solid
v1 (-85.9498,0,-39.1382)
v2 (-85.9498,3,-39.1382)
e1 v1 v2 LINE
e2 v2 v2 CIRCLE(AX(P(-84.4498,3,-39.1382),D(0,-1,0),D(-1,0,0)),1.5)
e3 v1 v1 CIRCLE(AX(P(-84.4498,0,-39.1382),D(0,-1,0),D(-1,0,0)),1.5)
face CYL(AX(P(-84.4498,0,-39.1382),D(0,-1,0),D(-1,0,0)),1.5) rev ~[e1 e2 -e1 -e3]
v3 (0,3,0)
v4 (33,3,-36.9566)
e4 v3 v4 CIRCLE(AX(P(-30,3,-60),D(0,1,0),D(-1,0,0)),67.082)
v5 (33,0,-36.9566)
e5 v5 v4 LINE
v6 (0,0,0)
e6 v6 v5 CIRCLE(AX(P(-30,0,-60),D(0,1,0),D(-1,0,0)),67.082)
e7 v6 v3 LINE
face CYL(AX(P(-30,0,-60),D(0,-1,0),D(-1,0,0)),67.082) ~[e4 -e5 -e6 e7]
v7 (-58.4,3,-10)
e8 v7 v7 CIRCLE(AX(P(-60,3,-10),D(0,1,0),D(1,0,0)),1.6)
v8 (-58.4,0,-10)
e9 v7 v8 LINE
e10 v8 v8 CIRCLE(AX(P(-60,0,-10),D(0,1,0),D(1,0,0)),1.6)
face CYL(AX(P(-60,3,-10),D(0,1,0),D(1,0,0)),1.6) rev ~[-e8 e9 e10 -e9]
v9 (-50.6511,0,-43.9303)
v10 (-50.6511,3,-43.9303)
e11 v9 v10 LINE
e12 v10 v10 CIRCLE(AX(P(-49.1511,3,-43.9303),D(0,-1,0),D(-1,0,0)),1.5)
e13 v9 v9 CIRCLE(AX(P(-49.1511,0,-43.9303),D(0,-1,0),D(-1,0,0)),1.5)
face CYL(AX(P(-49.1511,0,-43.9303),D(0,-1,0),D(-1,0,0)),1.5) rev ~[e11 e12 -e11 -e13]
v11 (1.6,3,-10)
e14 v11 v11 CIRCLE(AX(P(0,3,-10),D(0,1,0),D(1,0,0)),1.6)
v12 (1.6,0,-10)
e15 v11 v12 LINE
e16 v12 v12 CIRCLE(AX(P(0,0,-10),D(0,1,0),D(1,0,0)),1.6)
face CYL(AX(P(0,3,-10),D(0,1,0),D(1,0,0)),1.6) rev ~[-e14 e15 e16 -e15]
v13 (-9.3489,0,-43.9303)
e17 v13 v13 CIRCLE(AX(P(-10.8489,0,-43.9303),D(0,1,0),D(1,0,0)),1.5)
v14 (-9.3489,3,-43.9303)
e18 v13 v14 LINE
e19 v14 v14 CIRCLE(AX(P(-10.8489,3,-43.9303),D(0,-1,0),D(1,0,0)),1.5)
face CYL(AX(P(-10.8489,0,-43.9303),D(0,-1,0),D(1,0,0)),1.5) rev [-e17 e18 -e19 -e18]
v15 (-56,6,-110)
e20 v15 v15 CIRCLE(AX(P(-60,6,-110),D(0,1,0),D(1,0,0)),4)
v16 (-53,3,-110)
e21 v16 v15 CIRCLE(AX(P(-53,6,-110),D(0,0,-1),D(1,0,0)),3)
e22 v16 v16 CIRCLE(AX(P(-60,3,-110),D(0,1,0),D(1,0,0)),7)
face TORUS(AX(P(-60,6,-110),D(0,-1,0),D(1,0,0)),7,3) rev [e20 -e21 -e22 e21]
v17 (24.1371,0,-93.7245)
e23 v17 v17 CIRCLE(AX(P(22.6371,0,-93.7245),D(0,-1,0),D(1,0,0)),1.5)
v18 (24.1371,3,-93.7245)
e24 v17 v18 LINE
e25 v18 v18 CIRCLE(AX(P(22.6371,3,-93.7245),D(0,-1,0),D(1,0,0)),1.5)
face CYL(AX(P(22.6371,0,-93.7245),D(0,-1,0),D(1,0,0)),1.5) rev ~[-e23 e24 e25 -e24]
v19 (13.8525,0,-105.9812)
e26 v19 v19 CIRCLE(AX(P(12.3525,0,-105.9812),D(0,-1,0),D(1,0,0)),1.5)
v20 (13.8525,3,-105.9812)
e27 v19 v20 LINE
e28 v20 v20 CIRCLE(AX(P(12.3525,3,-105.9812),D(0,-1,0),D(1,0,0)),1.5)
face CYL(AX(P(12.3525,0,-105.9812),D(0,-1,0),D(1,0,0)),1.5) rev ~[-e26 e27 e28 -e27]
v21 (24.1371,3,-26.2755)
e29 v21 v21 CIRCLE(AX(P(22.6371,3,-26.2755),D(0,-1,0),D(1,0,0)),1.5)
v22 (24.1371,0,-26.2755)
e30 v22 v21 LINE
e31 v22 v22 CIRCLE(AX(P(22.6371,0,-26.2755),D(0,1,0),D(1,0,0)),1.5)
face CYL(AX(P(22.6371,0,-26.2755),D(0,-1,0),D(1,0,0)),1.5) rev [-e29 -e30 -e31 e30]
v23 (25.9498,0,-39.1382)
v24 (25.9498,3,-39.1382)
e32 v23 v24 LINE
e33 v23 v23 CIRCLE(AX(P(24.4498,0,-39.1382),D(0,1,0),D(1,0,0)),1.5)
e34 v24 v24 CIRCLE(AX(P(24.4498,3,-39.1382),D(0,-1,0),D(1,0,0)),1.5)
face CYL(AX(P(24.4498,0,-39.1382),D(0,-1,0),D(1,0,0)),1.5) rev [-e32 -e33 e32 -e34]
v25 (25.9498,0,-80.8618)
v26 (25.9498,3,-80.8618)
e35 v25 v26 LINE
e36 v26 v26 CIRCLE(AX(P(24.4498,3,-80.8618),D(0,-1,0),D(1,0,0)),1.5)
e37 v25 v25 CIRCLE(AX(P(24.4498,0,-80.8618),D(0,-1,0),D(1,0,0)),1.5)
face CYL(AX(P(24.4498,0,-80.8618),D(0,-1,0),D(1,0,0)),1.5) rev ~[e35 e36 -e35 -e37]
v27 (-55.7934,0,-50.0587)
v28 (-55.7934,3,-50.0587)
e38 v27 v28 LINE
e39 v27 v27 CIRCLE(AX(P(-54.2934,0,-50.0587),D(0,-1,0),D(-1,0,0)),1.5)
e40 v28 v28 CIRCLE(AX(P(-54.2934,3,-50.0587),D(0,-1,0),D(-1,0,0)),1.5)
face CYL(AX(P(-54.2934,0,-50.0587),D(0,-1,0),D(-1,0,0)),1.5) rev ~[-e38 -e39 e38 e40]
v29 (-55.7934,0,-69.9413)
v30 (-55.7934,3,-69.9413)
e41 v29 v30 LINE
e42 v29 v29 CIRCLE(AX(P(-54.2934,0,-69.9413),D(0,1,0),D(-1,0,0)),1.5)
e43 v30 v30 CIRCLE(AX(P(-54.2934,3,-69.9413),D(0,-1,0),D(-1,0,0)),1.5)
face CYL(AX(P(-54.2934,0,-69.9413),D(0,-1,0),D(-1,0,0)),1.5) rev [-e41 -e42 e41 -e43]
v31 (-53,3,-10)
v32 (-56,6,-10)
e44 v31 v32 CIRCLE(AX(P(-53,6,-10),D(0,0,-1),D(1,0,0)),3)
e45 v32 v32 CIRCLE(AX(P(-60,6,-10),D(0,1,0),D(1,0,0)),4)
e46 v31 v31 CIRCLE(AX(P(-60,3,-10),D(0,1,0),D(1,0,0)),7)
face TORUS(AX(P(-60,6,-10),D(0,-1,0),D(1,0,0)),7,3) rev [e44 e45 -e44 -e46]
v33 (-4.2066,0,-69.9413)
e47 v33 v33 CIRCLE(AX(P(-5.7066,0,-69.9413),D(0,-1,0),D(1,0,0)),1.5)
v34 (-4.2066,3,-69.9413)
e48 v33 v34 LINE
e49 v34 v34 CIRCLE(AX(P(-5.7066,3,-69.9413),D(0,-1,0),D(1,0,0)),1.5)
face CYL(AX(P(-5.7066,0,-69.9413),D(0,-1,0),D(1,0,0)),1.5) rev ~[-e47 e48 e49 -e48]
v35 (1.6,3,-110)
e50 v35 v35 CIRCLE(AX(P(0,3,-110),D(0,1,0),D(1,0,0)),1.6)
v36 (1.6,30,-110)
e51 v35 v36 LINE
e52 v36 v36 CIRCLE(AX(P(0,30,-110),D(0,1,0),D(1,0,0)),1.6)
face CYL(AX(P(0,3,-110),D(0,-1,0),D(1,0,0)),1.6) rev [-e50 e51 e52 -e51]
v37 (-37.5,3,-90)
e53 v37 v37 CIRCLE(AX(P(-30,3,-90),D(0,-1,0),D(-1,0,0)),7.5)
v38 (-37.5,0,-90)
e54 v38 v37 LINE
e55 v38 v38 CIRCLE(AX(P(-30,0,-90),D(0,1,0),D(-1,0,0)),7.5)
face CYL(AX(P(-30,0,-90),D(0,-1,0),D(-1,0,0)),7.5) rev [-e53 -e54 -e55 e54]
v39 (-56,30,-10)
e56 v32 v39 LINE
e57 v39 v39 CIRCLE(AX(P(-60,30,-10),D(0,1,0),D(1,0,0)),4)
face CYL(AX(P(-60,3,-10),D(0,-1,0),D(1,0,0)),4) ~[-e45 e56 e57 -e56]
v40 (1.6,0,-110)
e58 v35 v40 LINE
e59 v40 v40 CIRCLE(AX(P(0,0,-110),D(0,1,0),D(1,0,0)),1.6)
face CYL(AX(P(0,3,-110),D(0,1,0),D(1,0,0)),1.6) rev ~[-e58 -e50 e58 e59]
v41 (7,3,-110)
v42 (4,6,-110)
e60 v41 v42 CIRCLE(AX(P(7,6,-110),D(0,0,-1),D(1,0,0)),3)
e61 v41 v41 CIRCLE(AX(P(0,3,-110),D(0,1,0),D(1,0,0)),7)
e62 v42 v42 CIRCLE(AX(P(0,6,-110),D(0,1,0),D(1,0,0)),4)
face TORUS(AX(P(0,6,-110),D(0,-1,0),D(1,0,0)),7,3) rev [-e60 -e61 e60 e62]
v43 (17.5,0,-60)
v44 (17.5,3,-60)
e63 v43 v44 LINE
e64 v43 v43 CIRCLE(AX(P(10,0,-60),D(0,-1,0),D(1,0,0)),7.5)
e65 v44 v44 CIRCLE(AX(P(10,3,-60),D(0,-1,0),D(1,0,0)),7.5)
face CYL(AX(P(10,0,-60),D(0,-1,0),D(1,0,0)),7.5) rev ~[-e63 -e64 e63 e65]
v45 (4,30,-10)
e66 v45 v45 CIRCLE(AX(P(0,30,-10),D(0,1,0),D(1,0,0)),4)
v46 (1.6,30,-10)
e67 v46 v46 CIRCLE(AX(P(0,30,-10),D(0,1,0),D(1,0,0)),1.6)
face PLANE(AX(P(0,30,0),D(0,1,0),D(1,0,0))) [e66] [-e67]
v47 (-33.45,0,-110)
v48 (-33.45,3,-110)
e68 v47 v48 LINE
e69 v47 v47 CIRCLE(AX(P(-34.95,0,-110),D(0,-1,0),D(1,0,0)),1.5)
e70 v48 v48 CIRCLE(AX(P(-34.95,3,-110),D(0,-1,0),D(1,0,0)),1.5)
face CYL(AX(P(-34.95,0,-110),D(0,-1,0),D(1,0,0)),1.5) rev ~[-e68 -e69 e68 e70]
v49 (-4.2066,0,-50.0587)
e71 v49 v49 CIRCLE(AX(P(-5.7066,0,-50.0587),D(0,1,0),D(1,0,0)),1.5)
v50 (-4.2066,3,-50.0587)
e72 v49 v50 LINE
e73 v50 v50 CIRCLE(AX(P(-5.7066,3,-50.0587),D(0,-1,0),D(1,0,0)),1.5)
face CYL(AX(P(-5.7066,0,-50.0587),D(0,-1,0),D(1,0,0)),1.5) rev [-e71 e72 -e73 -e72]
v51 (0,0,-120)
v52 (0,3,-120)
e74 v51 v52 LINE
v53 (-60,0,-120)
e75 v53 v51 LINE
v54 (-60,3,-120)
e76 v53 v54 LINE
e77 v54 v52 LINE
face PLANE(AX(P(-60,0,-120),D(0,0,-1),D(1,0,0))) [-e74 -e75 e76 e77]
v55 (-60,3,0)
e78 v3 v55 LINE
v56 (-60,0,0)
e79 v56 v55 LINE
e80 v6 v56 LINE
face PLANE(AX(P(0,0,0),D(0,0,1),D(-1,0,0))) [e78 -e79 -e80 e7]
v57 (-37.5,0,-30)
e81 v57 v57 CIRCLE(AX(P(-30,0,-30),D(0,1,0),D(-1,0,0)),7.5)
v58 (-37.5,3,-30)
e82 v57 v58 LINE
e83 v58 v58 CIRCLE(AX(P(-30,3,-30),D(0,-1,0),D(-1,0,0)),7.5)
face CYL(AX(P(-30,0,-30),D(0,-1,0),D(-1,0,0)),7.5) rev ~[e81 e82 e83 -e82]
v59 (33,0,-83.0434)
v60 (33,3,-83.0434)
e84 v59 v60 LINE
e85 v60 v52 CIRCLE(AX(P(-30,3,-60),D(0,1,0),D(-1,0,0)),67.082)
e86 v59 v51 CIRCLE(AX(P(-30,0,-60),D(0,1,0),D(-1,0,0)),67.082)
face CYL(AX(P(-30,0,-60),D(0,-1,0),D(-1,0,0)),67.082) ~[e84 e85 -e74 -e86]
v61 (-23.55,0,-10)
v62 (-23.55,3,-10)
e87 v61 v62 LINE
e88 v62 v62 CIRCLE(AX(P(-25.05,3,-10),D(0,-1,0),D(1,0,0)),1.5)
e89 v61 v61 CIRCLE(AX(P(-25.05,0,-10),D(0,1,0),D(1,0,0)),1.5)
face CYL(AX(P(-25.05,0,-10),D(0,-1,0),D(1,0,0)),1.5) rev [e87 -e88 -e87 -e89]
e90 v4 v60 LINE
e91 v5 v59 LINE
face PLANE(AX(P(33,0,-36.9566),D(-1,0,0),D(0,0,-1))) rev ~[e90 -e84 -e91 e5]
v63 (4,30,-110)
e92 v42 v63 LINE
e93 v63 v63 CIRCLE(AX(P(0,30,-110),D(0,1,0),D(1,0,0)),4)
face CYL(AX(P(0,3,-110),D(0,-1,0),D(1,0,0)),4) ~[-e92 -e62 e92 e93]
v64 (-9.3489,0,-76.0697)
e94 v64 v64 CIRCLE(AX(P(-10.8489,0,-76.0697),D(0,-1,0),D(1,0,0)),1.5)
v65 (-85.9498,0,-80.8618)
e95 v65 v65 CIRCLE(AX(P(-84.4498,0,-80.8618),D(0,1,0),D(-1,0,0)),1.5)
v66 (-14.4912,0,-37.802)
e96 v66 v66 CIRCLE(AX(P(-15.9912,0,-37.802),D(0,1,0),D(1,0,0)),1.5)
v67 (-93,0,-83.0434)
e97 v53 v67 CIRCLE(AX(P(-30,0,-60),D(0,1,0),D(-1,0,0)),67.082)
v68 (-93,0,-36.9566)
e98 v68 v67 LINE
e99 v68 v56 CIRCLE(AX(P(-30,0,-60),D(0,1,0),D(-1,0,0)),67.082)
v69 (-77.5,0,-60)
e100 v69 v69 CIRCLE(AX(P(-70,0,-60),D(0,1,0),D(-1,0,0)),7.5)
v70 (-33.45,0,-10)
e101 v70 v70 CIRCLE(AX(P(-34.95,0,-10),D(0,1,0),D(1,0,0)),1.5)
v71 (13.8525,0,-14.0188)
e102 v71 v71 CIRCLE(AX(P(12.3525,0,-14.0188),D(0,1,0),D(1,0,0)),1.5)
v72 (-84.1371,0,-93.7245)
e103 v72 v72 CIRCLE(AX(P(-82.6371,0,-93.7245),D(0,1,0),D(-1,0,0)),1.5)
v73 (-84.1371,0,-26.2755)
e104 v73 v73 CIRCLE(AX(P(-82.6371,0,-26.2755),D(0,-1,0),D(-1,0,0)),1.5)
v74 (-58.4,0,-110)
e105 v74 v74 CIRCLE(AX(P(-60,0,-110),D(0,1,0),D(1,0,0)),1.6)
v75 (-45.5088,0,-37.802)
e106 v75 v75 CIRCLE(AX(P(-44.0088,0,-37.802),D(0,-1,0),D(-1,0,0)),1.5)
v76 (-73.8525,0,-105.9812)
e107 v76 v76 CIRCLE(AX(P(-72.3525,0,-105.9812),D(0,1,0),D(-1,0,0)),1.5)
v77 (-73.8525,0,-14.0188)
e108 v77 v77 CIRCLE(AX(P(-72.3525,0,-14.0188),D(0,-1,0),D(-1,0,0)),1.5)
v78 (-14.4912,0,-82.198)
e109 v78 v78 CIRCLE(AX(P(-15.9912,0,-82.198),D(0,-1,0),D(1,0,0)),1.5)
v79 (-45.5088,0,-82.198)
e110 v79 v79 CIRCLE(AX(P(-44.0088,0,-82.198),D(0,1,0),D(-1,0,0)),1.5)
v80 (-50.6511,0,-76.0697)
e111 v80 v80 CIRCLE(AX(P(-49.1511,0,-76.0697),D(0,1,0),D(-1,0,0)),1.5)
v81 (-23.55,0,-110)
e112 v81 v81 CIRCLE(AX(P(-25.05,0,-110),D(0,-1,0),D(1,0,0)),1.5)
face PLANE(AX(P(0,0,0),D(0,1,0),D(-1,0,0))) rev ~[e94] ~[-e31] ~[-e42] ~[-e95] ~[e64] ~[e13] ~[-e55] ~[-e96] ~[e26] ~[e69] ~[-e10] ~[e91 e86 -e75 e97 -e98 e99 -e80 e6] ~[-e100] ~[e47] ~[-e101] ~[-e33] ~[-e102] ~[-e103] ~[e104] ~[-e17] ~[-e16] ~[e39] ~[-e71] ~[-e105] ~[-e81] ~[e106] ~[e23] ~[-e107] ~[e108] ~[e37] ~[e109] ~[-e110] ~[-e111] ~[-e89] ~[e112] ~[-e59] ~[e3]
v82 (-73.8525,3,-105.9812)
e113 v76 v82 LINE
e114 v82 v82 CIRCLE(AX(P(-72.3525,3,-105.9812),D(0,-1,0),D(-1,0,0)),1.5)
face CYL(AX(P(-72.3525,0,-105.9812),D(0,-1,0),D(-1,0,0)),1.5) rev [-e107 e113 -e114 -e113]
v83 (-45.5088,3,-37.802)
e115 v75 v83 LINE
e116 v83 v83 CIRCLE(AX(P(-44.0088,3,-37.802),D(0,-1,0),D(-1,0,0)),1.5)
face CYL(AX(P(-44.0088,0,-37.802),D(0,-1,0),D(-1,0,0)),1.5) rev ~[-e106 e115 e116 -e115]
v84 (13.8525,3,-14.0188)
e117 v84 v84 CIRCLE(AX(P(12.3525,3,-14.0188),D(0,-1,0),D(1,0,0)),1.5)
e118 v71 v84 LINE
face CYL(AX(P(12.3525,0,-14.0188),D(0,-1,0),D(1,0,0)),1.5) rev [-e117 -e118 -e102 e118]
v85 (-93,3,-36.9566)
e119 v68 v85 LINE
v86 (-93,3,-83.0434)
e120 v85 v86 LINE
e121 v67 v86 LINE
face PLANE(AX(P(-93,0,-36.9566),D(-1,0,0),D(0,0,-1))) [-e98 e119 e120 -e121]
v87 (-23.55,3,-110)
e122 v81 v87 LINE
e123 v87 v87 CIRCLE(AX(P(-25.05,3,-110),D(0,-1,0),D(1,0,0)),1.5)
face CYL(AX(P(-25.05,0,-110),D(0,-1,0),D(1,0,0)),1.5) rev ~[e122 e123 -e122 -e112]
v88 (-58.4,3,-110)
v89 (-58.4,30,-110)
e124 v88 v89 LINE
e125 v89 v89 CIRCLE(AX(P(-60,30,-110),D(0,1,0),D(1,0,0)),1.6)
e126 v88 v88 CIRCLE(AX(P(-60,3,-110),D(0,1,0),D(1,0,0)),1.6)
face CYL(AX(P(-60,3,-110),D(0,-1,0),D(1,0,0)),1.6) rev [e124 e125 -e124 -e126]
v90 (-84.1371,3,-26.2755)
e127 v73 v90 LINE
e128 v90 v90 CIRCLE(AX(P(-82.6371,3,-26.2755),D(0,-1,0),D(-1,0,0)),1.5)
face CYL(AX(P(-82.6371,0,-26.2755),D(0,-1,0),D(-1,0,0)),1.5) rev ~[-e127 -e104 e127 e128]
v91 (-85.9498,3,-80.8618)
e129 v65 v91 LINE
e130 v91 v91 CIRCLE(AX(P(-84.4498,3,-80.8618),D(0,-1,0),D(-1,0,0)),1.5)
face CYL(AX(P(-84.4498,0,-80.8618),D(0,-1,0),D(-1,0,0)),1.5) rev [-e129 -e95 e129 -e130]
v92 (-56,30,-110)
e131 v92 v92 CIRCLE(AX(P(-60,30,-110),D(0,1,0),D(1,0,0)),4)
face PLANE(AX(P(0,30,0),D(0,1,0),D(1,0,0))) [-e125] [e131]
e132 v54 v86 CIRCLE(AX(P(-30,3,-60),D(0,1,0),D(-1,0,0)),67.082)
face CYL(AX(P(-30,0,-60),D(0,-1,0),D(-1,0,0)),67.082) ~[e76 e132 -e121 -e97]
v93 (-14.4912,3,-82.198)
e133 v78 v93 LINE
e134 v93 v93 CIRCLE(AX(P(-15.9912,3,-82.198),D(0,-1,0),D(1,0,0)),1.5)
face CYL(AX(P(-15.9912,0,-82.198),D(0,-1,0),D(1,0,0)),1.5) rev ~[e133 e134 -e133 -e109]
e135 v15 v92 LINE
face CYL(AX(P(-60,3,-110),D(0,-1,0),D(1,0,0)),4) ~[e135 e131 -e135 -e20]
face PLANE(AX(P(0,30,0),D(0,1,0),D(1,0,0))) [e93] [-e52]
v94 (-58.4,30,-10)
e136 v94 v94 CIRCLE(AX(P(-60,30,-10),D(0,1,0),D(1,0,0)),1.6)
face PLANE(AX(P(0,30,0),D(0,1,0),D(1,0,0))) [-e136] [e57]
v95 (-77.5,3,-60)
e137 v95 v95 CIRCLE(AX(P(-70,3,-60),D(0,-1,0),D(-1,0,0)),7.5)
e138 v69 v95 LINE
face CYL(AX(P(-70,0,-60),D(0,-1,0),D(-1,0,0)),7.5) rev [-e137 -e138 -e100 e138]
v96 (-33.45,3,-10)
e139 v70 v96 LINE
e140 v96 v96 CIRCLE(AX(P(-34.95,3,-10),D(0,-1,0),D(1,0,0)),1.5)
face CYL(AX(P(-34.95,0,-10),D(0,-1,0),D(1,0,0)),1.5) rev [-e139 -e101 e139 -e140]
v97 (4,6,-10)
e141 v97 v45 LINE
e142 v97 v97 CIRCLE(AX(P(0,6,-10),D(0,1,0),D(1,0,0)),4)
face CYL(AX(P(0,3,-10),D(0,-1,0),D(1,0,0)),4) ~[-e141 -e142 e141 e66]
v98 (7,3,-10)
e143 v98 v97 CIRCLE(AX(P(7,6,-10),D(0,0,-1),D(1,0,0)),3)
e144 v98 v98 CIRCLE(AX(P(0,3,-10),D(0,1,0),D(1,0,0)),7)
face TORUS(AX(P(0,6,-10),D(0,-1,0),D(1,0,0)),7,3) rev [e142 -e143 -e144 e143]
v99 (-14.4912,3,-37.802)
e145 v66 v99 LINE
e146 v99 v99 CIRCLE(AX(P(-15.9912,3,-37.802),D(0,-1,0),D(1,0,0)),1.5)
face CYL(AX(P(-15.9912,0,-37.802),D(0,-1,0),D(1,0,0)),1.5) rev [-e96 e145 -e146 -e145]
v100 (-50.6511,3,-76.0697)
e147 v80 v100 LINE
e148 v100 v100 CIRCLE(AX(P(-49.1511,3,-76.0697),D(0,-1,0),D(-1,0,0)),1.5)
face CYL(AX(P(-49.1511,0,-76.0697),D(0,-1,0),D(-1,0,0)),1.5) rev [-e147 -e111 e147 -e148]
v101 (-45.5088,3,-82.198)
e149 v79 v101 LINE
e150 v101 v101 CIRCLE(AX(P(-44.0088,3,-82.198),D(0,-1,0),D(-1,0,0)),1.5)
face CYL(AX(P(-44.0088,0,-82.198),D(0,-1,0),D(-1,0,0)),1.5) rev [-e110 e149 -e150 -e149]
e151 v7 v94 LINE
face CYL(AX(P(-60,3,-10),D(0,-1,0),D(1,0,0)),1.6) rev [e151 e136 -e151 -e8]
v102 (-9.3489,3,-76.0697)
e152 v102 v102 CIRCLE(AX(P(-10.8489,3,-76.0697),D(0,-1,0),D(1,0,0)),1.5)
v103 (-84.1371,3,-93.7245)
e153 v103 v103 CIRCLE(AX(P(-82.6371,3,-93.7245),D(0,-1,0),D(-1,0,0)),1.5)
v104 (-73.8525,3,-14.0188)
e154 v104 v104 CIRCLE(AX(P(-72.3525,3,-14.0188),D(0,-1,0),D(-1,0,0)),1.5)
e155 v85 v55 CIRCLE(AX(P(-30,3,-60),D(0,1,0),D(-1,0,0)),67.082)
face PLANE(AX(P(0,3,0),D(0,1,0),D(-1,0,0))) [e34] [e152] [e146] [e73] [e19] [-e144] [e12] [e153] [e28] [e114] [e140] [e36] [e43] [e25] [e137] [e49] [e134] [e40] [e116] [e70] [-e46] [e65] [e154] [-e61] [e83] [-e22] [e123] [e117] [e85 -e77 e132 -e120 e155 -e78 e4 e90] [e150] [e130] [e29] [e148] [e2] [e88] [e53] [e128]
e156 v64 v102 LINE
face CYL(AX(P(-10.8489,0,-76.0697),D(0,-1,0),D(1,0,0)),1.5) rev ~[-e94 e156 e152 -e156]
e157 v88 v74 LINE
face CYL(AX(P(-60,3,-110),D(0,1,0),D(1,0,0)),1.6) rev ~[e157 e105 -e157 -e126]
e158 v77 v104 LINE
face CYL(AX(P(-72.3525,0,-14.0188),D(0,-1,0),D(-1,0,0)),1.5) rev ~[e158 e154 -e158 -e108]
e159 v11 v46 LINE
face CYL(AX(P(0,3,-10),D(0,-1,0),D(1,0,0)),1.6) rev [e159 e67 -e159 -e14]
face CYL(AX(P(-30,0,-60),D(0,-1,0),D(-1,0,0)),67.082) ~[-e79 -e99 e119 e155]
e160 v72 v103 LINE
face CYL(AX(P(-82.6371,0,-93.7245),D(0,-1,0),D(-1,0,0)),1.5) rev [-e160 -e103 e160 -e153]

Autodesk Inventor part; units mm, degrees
ref_plane "XZ Plane" through (0, 0, 0) normal (0, 1, 0) x (-1, 0, 0)
ref_plane "XY Plane" through (0, 0, 0) normal (0, 0, 1) x (1, 0, 0)
sketch "Sketch1" plane through (0, 0, 0) normal (0, 1, 0) x (-1, 0, 0)
  line L0 (0, 0) -> (60, 0)
  line L1 (60, 0) -> (60, -120)
  line L2 (60, -120) -> (0, -120)
  line L3 (0, -120) -> (0, 0)
  line L4 (60, 0) -> (0, -120) construction
  line L5 (60, -120) -> (0, 0) construction
  circle A0 centre (30, -60) radius 67.082
  line L6 (30, -120) -> (30, 7.082) construction
  line L7 (60, -60) -> (0, -60)
  line L8 (30, -60) -> (81.3878, -103.1195) construction
  circle A1 centre (82.6371, -93.7245) radius 1.5
  circle A2 centre (54.2934, -69.9413) radius 1.5
  line L9 (41.76, -45.985) -> (17.4815, -74.919) construction
  circle A3 centre (72.3525, -105.9812) radius 1.5
  circle A4 centre (44.0088, -82.198) radius 1.5
  line L10 (-33, -36.9566) -> (-33, -83.0434)
  line L11 (93, -36.9566) -> (93, -83.0434)
  circle A5 centre (49.1511, -76.0697) radius 1.5
  circle A6 centre (60, -110) radius 1.5
  circle A7 centre (70, -60) radius 7.5
  circle A8 centre (30, -90) radius 7.5
  circle A9 centre (84.4498, -80.8618) radius 1.5
  point P0 (60, -120)
  point P1 (60, 0)
  point P2 (30, -60)
  dimension "d0" = 120
  dimension "d25" = 60
  dimension "d27" = 50
  dimension "d28" = 3
  dimension "d30" = 3
  dimension "d32" = 25
  dimension "d33" = 62
  dimension "d34" = 8
  dimension "d35" = 8
  dimension "d38" = 63
  dimension "d39" = 63
  dimension "d40" = 3
  dimension "d41" = 25
  dimension "d50" = 3
  dimension "d51" = 10
  dimension "d52" = 15
  dimension "d53" = 40
  dimension "d54" = 15
  dimension "d55" = 30
extrude "Extrusion1" add sketch "Sketch1" along normal blind 3 contours L0 L1 L7 L3 | L3 A0 L10 | A0 L11 L1 A6 | L7 L1 A6 L2 L3 | A6 L1 | L1 A6 | A1 | A2 | A3 | A4 | A5 | A7 | A8 | A9
extrude "Extrusion3" cut sketch "Sketch1" along normal blind 10 contours A6 L1 | L1 A6 | A1 | A2 | A3 | A4 | A5 | A7 | A8 | A9
ref_plane "Work Plane5" through (-60, 0, -60) normal (0, 0, 1) x (1, 0, 0)
ref_plane "Work Plane6" through (-30, 0, 0) normal (1, 0, 0) x (0, 1, 0)
mirror "Mirror3" about plane through (-60, 0, -60) normal (0, 0, 1) of "Extrusion3"
mirror "Mirror4" about plane through (-30, 0, 0) normal (1, 0, 0) of "Extrusion3", "Mirror3"
sketch "Sketch7" plane through (0, 0, 0) normal (0, -1, 0) x (1, 0, 0)
  circle A0 centre (-25.05, -110) radius 1.5
  circle A1 centre (-34.95, -110) radius 1.5
  line L0 (0, -120) -> (-60, -120) projected
  line L1 (-30, 28.4216) -> (-30, -148.4216) projected
  point P0 (0, 0)
  dimension "d42" = 3
  dimension "d43" = 3
  dimension "d44" = 10
  dimension "d45" = 10
  dimension "d46" = 4.95
  dimension "d47" = 4.95
extrude "Extrusion4" cut sketch "Sketch7" against normal blind 100
mirror "Mirror5" about plane through (-60, 0, -60) normal (0, 0, 1) of "Extrusion4"
sketch "Sketch9" plane through (0, 3, 0) normal (0, 1, 0) x (1, 0, 0)
  circle A0 centre (-34.95, 10) radius 1.5 projected
  circle A1 centre (-25.05, 10) radius 1.5 projected
  circle A2 centre (-34.95, 110) radius 1.5 projected
  circle A3 centre (-25.05, 110) radius 1.5 projected
  circle A4 centre (22.6371, 26.2755) radius 1.5 projected
  circle A5 centre (-15.9912, 37.802) radius 1.5 projected
  circle A6 centre (0, 10) radius 1.5 projected
  circle A7 centre (12.3525, 14.0188) radius 1.5 projected
  circle A8 centre (-5.7066, 50.0587) radius 1.5 projected
  circle A9 centre (-10.8489, 43.9303) radius 1.5 projected
  circle A10 centre (24.4498, 39.1382) radius 1.5 projected
  circle A11 centre (22.6371, 93.7245) radius 1.5 projected
  circle A12 centre (-15.9912, 82.198) radius 1.5 projected
  circle A13 centre (0, 110) radius 1.5 projected
  circle A14 centre (10, 60) radius 7.5 projected
  circle A15 centre (12.3525, 105.9812) radius 1.5 projected
  circle A16 centre (-5.7066, 69.9413) radius 1.5 projected
  circle A17 centre (-10.8489, 76.0697) radius 1.5 projected
  circle A18 centre (24.4498, 80.8618) radius 1.5 projected
  circle A19 centre (-30, 30) radius 7.5 projected
  circle A20 centre (-82.6371, 26.2755) radius 1.5 projected
  circle A21 centre (-44.0088, 37.802) radius 1.5 projected
  circle A22 centre (-60, 10) radius 1.5 projected
  circle A23 centre (-72.3525, 14.0188) radius 1.5 projected
  circle A24 centre (-54.2934, 50.0587) radius 1.5 projected
  circle A25 centre (-49.1511, 43.9303) radius 1.5 projected
  circle A26 centre (-84.4498, 39.1382) radius 1.5 projected
  circle A27 centre (-30, 90) radius 7.5 projected
  circle A28 centre (-82.6371, 93.7245) radius 1.5 projected
  circle A29 centre (-44.0088, 82.198) radius 1.5 projected
  circle A30 centre (-60, 110) radius 1.5 projected
  circle A31 centre (-70, 60) radius 7.5 projected
  circle A32 centre (-72.3525, 105.9812) radius 1.5 projected
  circle A33 centre (-54.2934, 69.9413) radius 1.5 projected
  circle A34 centre (-49.1511, 76.0697) radius 1.5 projected
  circle A35 centre (-84.4498, 80.8618) radius 1.5 projected
  line L0 (0, 120) -> (-60, 120) projected
  arc A36 (-60, 120) -> (-93, 83.0434) centre (-30, 60) ccw projected
  line L1 (-93, 83.0434) -> (-93, 36.9566) projected
  arc A37 (-93, 36.9566) -> (-60, 0) centre (-30, 60) ccw projected
  line L2 (-60, 0) -> (0, 0) projected
  arc A38 (0, 0) -> (33, 36.9566) centre (-30, 60) ccw projected
  line L3 (33, 36.9566) -> (33, 83.0434) projected
  arc A39 (33, 83.0434) -> (0, 120) centre (-30, 60) ccw projected
  circle A40 centre (-60, 10) radius 1.5 projected
  circle A41 centre (-60, 10) radius 4
  circle A42 centre (-60, 110) radius 1.5 projected
  circle A43 centre (-60, 110) radius 4
  circle A44 centre (0, 110) radius 1.5 projected
  circle A45 centre (0, 110) radius 4
  circle A46 centre (0, 10) radius 4
  circle A47 centre (0, 10) radius 1.6
  circle A48 centre (0, 110) radius 1.6
  circle A49 centre (-60, 110) radius 1.6
  circle A50 centre (-60, 10) radius 1.6
  dimension "d56" = 8
  dimension "d57" = 8
  dimension "d58" = 8
  dimension "d59" = 8
  dimension "d60" = 0.1
  dimension "d61" = 0.1
  dimension "d62" = 0.1
  dimension "d63" = 0.1
extrude "Extrusion5" cut sketch "Sketch9" against normal blind 10 contours A47 | A48 | A49 | A50
extrude "Extrusion6" add sketch "Sketch9" along normal blind 27 contours A41 | A43 | A45 | A46
fillet "Fillet2" radius 3 4 edges at (-4, 3, -10) (-64, 3, -10) (-4, 3, -110) (-64, 3, -110)
equation "\"d45\" = d44"
equation "\"d47\" = d46"
properties part number "Drone_plate_2"
